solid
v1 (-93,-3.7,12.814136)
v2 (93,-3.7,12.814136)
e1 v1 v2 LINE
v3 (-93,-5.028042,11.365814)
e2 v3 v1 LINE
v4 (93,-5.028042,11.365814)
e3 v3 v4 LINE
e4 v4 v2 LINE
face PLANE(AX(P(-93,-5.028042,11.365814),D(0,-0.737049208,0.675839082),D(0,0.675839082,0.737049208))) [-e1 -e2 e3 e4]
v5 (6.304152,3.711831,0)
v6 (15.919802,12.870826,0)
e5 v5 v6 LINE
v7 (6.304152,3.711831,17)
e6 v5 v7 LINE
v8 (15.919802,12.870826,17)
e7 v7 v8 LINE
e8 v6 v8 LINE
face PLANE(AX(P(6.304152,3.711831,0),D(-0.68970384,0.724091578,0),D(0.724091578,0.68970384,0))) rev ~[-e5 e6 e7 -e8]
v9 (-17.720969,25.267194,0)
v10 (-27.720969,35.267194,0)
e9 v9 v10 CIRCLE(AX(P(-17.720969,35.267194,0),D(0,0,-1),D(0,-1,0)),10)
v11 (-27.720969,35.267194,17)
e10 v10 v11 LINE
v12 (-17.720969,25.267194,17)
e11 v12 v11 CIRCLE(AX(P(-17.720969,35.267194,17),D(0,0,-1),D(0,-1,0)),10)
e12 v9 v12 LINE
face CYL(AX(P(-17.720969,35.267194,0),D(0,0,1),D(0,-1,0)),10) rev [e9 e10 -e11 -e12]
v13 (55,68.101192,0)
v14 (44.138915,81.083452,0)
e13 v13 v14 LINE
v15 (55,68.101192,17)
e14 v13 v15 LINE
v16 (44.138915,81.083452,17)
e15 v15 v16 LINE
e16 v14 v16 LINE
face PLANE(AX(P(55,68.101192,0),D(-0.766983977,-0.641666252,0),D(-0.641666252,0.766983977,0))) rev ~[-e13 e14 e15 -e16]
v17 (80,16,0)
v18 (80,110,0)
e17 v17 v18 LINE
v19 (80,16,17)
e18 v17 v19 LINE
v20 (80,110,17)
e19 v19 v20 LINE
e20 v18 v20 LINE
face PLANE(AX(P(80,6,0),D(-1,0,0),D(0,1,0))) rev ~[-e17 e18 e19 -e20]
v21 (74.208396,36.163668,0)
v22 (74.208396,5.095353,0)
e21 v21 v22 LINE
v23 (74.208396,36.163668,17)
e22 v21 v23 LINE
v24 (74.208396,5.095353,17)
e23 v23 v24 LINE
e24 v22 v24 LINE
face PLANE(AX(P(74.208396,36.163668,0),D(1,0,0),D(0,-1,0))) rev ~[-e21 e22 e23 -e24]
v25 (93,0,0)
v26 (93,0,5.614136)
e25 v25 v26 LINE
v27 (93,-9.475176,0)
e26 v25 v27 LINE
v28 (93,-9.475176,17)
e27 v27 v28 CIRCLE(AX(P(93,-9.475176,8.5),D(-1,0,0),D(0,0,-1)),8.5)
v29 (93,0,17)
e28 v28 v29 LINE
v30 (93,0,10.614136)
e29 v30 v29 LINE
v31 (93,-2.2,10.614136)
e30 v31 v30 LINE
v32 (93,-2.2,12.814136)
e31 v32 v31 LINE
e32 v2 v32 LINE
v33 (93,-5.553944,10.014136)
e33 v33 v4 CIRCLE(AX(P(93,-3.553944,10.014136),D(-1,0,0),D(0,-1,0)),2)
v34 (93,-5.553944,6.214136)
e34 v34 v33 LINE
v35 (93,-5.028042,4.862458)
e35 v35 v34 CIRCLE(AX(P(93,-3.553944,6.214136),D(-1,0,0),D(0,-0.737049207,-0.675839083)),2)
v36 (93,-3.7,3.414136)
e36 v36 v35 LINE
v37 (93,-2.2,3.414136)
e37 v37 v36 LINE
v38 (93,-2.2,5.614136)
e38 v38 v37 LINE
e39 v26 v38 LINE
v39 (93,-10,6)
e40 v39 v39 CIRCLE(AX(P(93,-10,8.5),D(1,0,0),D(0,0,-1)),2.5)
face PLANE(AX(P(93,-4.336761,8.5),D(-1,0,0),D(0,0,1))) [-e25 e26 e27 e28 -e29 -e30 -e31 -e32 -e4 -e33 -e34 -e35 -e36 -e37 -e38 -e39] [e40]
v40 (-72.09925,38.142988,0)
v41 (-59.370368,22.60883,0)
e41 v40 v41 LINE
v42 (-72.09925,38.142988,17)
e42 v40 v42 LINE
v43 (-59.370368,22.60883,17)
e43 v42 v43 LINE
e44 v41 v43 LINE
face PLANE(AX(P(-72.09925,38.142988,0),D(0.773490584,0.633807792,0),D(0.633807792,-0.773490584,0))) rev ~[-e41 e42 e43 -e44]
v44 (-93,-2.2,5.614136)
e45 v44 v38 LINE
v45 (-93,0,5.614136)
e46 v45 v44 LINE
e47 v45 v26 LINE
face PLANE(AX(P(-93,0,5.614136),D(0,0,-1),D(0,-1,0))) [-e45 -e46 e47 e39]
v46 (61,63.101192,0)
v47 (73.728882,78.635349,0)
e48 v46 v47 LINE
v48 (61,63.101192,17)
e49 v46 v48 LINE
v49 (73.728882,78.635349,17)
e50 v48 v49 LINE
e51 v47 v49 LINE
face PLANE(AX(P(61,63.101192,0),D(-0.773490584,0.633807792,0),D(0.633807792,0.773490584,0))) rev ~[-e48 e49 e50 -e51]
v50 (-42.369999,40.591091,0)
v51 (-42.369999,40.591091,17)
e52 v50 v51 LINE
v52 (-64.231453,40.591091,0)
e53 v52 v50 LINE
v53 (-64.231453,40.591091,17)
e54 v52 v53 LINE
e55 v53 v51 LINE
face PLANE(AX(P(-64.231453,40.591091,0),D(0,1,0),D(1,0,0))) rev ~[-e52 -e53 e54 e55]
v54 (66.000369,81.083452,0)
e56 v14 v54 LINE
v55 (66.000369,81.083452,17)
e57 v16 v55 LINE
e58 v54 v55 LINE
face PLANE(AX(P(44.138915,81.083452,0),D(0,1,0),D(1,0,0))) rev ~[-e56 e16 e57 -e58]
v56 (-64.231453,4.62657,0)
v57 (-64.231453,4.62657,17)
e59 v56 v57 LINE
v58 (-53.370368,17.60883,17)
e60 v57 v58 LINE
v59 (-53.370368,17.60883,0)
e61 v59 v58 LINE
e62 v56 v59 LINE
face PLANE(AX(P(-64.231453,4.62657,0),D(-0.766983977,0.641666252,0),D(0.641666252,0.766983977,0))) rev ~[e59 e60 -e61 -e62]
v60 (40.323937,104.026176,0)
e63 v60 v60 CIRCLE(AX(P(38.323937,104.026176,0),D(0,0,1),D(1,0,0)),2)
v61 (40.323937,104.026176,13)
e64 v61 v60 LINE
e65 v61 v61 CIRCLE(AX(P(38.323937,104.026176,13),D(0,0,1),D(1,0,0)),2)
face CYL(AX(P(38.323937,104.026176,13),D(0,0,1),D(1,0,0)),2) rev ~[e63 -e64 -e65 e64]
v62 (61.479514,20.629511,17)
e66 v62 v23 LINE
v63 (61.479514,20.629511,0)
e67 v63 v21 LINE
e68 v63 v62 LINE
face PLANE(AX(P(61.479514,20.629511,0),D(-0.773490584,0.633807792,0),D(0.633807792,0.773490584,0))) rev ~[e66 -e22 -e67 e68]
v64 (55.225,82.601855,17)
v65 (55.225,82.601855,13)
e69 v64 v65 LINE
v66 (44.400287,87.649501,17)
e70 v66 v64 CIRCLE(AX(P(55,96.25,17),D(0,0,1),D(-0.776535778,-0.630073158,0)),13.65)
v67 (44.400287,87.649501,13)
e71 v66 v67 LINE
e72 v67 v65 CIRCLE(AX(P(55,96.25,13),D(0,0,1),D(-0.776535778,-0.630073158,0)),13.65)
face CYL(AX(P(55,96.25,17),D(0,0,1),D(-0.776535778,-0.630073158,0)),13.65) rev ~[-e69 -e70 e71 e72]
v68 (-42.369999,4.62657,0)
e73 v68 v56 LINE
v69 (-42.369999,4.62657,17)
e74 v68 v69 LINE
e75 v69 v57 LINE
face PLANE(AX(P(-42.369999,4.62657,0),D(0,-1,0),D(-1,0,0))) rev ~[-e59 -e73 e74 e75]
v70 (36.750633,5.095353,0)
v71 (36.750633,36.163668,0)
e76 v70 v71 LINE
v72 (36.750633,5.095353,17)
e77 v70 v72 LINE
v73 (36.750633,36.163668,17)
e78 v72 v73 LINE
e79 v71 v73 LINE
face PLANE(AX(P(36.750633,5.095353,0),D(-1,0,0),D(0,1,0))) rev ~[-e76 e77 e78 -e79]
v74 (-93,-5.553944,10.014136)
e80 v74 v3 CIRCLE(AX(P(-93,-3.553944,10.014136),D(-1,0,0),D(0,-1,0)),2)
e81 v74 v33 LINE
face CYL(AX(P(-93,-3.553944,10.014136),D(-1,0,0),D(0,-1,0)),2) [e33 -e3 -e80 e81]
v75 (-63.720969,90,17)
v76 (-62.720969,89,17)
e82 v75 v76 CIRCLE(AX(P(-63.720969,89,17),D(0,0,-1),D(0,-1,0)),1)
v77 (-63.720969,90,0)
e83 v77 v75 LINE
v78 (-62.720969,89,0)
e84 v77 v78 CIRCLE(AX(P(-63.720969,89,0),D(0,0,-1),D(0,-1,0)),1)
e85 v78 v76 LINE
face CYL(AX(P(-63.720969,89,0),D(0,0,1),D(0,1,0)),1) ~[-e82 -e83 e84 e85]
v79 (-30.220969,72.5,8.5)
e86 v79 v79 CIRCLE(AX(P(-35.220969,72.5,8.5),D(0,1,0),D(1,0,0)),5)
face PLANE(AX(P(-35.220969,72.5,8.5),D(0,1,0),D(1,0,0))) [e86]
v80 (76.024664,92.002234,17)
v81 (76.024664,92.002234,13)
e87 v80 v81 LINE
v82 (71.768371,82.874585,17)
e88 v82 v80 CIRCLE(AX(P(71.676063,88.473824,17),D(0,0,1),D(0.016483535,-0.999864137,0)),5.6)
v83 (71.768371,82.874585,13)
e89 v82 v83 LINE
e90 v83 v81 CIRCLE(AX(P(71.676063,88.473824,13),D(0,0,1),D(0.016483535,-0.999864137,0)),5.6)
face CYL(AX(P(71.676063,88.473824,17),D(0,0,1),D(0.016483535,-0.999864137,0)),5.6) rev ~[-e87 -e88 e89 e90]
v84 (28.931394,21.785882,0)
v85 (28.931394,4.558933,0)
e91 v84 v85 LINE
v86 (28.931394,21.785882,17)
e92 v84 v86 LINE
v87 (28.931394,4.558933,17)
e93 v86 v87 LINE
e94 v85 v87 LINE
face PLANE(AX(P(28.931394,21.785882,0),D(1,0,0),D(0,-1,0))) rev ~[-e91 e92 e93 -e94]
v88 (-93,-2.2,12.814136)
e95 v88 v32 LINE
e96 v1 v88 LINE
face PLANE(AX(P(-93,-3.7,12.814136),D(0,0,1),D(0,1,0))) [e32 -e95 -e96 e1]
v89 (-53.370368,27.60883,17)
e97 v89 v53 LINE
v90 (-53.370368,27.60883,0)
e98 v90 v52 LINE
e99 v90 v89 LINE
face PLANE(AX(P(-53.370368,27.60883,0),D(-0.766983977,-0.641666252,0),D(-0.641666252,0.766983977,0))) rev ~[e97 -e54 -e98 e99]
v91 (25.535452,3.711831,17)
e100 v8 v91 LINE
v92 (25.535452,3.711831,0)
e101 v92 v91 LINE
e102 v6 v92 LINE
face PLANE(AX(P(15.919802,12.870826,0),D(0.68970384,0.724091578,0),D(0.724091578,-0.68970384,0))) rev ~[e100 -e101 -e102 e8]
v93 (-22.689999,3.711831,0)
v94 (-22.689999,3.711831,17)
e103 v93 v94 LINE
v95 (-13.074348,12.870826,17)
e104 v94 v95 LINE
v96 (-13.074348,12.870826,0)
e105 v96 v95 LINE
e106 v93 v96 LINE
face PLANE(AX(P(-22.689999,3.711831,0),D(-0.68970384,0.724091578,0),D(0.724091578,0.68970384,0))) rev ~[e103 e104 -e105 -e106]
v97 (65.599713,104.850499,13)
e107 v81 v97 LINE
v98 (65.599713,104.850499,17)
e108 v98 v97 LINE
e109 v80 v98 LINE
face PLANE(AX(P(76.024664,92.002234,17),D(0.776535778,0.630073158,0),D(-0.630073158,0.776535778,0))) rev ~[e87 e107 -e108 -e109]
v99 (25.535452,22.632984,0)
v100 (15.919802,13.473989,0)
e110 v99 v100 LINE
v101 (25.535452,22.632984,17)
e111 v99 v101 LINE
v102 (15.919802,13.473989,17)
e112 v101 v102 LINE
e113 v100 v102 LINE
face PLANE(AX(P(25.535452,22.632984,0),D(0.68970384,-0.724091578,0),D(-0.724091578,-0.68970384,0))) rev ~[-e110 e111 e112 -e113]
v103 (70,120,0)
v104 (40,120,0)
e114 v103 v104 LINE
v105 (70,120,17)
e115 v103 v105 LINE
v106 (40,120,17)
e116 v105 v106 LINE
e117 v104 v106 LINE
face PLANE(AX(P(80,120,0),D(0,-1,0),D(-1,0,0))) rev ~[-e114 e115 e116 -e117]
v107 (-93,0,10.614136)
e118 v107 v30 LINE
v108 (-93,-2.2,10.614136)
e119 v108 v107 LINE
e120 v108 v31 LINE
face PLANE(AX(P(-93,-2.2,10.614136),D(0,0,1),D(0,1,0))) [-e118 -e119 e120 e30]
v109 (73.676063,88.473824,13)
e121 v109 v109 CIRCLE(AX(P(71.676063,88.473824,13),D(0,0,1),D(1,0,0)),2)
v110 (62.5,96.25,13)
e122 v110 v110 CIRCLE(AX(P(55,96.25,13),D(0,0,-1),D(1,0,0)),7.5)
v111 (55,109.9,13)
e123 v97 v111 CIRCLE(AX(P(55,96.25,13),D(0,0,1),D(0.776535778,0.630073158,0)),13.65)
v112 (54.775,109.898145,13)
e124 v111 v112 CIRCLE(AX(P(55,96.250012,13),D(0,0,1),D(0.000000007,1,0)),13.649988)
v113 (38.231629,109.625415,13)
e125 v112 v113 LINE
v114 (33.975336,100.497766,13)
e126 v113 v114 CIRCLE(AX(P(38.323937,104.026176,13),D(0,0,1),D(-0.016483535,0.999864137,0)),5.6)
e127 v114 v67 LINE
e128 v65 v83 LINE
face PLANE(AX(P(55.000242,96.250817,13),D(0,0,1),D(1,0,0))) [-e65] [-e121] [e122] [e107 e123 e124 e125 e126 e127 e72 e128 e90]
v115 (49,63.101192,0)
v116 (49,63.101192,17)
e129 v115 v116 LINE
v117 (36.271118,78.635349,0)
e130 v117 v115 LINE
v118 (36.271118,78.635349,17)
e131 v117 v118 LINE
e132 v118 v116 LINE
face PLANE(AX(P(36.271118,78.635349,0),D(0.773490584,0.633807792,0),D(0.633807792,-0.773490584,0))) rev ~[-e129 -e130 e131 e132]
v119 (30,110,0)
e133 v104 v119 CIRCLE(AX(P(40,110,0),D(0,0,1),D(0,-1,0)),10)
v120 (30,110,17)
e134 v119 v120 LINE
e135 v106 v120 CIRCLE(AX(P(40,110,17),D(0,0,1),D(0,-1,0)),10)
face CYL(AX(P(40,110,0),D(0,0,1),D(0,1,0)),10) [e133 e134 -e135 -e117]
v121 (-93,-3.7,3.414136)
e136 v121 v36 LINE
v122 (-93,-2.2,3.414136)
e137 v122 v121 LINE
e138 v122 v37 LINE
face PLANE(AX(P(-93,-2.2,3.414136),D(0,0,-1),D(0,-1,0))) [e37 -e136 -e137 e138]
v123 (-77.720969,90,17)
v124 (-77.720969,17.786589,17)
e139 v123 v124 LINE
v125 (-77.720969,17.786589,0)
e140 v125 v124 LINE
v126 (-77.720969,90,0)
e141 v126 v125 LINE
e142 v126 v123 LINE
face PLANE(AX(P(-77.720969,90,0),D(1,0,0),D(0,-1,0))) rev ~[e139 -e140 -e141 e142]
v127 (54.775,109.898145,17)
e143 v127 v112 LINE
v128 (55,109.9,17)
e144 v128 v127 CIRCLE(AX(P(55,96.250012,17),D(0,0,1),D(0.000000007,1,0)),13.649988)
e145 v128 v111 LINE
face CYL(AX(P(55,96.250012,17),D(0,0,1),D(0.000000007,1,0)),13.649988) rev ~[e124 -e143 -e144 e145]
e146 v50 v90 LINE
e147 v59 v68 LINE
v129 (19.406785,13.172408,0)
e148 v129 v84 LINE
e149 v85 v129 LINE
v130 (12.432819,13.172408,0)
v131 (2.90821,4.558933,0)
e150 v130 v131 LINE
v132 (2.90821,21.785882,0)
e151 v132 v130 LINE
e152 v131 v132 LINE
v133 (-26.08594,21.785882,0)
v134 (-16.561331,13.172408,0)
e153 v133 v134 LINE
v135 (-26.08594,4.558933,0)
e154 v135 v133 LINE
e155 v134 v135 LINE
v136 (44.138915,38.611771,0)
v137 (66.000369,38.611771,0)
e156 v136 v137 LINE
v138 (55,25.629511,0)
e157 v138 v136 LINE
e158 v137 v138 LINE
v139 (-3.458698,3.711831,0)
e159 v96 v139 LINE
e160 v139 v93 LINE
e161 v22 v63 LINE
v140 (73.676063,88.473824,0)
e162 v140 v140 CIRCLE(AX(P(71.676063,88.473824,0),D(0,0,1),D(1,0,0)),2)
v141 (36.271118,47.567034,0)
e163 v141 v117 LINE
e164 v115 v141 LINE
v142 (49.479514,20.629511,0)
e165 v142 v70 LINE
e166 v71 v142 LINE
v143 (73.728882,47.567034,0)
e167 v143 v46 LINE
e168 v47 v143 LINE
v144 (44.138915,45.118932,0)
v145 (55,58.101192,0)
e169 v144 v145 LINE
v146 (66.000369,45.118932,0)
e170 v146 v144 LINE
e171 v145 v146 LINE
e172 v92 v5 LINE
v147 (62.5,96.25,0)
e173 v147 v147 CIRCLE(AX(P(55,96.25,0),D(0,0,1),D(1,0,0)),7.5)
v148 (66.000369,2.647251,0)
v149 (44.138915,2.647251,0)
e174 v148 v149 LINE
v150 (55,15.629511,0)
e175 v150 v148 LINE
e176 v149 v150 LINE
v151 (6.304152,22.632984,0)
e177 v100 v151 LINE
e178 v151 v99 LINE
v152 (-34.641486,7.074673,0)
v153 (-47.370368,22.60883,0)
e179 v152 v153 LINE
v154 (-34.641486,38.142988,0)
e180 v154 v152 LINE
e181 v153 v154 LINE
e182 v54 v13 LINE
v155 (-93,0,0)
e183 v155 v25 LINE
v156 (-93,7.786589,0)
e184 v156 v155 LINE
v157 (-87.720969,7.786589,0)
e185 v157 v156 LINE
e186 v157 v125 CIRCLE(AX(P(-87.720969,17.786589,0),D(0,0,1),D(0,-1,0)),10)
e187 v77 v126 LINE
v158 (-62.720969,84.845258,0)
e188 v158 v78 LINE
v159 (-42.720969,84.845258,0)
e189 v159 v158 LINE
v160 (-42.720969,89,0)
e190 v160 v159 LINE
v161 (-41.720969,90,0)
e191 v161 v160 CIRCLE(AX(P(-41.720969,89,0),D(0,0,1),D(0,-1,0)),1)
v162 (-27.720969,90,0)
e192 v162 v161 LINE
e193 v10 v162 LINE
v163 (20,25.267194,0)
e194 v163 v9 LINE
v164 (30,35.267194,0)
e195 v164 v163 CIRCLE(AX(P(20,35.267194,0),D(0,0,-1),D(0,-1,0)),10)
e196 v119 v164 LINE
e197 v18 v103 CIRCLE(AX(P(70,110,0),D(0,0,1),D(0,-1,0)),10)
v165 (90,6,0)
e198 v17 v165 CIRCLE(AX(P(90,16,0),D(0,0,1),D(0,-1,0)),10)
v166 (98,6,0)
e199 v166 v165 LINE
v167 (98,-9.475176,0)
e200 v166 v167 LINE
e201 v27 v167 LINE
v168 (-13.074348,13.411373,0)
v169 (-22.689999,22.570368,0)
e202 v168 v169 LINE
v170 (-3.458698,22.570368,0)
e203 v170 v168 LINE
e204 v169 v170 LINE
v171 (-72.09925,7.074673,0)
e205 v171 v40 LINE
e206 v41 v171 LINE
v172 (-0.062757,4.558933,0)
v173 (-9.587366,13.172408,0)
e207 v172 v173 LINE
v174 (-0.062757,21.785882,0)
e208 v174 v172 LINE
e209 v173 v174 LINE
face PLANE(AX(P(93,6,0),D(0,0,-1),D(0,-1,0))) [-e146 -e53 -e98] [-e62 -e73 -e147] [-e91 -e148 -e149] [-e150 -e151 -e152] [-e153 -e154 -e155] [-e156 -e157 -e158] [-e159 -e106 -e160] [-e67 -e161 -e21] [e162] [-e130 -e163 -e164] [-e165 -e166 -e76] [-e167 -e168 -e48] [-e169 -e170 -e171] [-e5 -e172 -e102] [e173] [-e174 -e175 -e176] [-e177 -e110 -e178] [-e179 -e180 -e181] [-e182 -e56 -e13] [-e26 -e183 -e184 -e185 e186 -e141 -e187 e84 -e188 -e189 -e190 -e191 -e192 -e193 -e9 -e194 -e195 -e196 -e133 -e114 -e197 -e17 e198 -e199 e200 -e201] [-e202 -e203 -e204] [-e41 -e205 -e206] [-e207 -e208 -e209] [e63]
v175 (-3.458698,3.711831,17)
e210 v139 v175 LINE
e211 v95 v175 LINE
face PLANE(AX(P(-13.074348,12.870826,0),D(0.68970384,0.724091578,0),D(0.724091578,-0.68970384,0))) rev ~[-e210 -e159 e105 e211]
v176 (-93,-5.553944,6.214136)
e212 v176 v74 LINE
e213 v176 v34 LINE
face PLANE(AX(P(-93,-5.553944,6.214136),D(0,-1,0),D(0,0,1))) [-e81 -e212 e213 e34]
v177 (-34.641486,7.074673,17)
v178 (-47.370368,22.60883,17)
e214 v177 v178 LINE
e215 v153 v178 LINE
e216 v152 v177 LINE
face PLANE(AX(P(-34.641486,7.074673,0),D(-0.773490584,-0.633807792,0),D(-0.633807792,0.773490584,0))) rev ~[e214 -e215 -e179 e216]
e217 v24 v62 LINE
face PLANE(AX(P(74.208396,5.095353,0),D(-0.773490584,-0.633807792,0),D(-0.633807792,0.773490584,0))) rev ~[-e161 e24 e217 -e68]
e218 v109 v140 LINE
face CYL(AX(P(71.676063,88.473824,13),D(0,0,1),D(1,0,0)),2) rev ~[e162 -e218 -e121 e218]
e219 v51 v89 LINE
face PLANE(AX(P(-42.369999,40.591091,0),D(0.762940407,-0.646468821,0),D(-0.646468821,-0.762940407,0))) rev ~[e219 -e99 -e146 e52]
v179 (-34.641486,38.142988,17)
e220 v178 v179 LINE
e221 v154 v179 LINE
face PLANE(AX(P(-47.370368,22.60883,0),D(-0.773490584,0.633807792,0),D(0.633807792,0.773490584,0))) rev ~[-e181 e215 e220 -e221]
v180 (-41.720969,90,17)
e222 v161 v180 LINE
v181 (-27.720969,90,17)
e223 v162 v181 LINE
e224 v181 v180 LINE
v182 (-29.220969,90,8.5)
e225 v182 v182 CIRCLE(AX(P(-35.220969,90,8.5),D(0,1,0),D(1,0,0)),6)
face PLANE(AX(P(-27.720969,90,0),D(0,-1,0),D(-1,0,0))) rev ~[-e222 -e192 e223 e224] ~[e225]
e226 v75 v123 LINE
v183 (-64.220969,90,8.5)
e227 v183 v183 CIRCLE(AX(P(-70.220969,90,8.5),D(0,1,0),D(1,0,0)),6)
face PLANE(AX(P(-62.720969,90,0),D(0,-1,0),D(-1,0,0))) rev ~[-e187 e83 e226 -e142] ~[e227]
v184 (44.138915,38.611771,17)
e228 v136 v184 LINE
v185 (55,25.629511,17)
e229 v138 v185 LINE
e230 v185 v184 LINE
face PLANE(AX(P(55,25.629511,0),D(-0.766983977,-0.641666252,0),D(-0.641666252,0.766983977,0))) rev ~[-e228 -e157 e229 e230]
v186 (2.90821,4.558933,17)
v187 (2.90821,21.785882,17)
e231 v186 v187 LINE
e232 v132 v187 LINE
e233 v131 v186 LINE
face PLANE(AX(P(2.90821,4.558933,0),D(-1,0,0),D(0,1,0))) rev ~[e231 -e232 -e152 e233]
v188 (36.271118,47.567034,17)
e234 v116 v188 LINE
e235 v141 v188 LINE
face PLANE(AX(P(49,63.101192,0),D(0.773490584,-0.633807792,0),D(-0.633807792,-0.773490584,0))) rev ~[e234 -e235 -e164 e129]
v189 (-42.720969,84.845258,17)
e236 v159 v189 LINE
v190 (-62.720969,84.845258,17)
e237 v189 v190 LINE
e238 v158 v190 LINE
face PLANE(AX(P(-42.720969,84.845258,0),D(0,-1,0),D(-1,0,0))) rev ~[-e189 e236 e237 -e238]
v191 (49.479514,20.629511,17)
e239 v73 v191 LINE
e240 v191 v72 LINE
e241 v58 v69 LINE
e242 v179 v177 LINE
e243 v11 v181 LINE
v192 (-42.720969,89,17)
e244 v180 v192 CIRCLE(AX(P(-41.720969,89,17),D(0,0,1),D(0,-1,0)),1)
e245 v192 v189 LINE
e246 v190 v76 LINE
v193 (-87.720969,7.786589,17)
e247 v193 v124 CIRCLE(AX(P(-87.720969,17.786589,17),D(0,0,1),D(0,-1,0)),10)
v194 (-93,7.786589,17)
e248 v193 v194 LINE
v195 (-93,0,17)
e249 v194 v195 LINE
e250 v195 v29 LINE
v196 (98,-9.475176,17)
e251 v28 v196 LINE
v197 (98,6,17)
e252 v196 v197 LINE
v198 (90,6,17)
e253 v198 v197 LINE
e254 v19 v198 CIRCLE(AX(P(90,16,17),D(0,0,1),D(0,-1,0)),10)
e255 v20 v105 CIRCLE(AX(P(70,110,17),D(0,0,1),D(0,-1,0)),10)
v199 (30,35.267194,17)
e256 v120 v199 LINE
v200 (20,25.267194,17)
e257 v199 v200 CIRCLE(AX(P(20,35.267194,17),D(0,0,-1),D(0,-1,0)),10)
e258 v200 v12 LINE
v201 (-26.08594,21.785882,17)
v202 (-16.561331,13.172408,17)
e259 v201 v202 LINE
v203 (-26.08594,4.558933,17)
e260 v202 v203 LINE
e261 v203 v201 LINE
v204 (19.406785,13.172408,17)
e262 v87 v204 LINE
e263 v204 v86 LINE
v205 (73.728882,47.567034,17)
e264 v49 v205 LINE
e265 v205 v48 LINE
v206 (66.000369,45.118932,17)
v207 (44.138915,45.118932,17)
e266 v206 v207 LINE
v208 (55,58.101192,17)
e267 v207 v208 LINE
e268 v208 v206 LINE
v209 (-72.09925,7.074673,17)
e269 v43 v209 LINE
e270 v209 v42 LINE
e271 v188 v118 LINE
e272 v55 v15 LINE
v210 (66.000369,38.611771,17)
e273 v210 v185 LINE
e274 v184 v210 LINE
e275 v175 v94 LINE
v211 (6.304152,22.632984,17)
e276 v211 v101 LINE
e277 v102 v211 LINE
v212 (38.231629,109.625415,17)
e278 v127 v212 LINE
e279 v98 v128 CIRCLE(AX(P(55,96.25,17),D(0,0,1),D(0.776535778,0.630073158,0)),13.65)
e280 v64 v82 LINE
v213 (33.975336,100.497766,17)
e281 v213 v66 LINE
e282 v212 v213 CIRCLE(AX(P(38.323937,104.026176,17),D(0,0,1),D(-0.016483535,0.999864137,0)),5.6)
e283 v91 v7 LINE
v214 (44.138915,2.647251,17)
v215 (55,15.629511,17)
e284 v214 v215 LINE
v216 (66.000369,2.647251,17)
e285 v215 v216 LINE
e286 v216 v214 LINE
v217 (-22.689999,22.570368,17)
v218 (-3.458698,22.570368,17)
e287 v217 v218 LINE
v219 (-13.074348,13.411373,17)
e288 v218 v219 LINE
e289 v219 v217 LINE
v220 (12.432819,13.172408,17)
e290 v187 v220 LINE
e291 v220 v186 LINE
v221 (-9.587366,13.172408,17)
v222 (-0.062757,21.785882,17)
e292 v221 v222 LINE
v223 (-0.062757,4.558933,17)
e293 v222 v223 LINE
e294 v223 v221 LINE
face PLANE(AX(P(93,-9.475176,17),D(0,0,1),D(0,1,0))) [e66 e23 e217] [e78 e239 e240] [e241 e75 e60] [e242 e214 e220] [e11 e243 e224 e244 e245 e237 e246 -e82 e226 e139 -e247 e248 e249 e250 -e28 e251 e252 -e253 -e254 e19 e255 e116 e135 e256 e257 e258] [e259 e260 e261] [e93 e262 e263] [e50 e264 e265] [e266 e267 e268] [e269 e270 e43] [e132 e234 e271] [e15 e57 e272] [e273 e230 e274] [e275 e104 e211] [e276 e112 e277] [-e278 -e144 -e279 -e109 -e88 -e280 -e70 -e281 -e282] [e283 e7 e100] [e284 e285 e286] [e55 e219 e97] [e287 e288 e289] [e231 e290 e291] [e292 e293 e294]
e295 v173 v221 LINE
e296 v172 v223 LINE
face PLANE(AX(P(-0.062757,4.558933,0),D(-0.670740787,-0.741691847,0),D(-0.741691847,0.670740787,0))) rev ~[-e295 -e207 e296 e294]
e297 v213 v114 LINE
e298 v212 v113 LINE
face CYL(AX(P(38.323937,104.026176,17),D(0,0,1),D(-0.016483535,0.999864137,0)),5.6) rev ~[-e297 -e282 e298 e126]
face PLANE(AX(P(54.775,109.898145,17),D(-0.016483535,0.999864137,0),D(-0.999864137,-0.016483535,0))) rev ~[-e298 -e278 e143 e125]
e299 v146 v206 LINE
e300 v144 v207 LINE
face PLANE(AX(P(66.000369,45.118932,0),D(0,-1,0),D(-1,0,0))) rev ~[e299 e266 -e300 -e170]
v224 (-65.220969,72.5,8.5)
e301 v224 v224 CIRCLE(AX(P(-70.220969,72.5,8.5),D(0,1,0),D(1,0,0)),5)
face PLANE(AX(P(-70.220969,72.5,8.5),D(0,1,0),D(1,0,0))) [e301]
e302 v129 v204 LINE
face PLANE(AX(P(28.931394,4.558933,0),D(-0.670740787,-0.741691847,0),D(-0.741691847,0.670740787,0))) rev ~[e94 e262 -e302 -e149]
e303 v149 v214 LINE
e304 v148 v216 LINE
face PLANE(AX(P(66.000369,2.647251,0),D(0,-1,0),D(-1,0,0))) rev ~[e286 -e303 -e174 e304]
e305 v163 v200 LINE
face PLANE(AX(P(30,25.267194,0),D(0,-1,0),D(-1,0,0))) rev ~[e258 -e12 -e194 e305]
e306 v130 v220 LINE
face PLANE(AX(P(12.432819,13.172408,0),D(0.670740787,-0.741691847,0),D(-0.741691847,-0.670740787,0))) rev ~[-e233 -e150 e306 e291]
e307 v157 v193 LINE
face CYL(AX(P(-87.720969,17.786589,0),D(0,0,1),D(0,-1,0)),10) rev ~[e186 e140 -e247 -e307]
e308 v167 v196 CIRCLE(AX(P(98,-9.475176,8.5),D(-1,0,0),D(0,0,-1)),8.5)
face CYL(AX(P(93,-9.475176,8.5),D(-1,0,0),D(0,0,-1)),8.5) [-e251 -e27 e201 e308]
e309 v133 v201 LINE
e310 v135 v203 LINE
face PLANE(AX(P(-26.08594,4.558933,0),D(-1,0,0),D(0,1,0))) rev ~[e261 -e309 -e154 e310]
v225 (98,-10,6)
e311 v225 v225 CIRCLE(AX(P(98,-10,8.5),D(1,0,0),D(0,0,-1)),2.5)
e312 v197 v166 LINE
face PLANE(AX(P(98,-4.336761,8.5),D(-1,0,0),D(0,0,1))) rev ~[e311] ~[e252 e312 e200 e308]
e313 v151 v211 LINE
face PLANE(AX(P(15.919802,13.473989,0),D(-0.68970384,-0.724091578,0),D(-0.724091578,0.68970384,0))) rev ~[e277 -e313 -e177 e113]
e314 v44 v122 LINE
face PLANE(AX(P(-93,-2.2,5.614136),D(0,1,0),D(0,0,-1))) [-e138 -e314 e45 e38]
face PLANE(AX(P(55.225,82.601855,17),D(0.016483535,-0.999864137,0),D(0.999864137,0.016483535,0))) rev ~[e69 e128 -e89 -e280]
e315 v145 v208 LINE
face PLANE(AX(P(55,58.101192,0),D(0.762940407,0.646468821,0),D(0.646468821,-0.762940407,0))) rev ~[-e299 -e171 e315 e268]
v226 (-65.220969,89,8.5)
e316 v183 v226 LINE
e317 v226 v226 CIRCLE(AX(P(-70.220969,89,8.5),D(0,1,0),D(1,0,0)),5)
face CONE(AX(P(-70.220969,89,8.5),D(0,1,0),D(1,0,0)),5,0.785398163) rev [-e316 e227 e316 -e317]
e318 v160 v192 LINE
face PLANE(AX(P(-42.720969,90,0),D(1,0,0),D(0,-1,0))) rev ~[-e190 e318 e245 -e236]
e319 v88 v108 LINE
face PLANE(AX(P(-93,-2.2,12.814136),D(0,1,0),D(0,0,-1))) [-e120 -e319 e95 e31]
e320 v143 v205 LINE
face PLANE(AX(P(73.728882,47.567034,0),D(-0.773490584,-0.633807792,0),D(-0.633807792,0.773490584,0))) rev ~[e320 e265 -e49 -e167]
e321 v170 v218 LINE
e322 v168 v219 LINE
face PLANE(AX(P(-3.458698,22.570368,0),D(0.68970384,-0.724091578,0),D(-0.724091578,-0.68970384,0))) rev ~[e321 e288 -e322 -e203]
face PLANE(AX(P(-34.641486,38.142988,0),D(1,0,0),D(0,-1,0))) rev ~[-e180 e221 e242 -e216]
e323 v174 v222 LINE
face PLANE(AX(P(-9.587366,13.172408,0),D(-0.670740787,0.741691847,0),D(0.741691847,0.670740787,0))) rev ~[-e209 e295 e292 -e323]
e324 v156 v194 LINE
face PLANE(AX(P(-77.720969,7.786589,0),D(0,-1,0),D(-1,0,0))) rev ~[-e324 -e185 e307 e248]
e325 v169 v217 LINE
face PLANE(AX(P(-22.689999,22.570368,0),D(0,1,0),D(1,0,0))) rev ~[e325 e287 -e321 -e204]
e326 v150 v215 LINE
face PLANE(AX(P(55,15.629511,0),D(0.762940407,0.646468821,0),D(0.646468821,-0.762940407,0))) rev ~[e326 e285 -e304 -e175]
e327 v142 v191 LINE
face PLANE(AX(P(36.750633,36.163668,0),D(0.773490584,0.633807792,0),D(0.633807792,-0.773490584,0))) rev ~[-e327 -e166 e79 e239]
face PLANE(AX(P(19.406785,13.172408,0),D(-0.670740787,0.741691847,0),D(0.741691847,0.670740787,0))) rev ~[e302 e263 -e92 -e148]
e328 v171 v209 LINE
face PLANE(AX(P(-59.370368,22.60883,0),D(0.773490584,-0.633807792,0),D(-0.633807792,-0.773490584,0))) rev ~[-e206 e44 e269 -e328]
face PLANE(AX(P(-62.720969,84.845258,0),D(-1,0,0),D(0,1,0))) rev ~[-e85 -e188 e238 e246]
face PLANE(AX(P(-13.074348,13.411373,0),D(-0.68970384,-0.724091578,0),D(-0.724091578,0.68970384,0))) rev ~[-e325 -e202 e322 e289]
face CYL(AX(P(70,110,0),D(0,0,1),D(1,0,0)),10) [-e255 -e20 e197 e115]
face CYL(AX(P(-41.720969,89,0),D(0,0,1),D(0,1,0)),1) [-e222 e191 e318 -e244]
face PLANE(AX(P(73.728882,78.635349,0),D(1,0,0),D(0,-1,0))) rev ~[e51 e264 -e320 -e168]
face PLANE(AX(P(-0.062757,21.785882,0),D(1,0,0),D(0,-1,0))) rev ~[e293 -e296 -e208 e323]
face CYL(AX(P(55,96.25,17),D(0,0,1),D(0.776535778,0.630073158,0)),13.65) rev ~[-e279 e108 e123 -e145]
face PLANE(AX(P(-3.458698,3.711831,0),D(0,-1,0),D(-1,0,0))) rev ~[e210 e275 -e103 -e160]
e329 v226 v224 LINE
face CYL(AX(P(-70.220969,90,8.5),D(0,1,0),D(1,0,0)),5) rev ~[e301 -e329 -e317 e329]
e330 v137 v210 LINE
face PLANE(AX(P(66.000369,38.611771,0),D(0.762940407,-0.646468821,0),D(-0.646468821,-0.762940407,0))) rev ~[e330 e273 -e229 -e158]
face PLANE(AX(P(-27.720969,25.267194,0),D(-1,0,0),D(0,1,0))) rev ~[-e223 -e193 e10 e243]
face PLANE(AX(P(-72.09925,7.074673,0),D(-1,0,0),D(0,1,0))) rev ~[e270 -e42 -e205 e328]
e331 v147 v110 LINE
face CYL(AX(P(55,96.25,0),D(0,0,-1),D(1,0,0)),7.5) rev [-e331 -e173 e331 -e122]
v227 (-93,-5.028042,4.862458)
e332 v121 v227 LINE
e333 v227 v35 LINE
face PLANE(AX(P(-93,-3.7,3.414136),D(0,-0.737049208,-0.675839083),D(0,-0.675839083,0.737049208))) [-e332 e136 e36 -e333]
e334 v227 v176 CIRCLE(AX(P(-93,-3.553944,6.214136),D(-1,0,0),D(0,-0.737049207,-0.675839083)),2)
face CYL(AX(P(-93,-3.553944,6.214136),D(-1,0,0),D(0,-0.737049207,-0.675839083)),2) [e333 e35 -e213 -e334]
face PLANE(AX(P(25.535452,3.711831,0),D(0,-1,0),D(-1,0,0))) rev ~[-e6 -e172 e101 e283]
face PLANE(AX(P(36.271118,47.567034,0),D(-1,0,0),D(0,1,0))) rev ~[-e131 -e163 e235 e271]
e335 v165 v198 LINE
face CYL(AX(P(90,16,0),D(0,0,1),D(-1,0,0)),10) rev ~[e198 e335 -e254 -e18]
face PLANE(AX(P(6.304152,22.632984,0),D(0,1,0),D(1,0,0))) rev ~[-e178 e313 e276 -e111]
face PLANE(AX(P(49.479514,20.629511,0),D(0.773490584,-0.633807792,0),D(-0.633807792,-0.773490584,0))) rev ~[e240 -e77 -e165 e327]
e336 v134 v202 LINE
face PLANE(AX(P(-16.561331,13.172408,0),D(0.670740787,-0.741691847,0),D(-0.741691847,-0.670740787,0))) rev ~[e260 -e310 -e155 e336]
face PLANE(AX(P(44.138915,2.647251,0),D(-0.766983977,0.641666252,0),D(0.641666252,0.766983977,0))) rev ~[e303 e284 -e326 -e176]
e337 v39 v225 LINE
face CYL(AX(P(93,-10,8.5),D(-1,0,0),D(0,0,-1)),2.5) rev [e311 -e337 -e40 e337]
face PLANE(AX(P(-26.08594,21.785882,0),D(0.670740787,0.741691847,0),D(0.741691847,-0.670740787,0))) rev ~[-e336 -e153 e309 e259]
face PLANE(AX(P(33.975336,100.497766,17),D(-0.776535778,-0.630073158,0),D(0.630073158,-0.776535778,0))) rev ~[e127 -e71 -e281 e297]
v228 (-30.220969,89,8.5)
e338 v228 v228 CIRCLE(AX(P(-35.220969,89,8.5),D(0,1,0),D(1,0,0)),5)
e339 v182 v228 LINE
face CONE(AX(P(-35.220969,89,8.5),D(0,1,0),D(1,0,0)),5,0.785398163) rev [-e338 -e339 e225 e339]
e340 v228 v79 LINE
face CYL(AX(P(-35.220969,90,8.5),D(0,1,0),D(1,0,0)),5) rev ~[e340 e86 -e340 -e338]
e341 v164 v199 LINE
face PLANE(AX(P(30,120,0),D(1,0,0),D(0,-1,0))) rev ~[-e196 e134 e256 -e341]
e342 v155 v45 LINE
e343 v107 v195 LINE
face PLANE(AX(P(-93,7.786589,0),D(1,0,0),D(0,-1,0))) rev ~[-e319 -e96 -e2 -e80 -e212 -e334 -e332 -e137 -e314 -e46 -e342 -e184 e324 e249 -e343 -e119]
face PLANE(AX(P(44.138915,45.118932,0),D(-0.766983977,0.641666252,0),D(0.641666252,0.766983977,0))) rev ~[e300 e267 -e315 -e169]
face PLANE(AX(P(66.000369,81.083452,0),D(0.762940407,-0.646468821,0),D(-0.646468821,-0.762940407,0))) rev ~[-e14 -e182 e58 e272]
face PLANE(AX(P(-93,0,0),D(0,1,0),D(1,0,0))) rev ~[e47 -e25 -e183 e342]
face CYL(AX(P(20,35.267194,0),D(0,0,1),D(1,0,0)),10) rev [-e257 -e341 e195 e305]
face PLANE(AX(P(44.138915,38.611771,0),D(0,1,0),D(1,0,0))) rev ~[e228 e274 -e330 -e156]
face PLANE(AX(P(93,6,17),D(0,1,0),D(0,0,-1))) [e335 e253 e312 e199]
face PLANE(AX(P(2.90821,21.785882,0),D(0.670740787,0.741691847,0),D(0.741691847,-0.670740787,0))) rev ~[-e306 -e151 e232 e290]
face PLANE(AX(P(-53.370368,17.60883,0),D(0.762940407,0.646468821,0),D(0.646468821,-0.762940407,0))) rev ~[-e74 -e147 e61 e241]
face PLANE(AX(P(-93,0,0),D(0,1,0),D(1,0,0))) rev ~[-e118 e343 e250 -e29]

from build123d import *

# Parameters (mm, degrees)
CROQUIS1_R              = 7.5
SALIENTE_EXTRUIR1_DEPTH = 17
REDONDEO1_R             = 10
REDONDEO2_R             = 10
REDONDEO8_R             = 10
REDONDEO9_R             = 10
REDONDEO11_R            = 10
REDONDEO12_R            = 10
SALIENTE_EXTRUIR2_DEPTH = 186
CROQUIS5_R              = 2.5
SALIENTE_EXTRUIR6_DEPTH = 5
CORTAR_EXTRUIR5_DEPTH   = 4
SKETCH3_R               = 2
CUT_EXTRUDE1_DEPTH      = 156.476686355
SKETCH4_R               = 5
CUT_EXTRUDE2_DEPTH      = 17.5
FILLET1_R               = 1
CHAMFER1_SIZE           = 1


with BuildPart() as part:
    # Croquis1 → Saliente-Extruir1 (new body)
    with BuildSketch(Plane.XY):
        Polygon((-93, 0), (93, 0), (93, 6), (80, 6), (80, 120), (30, 120), (30, 25.267194249), (-27.720969348, 25.267194249), (-27.720969348, 90), (-42.720969348, 90), (-42.720969348, 84.845258293), (-62.720969348, 84.845258293), (-62.720969348, 90), (-77.720969348, 90), (-77.720969348, 7.786589187), (-93, 7.786589187), align=None)
        Polygon((-53.370368055, 17.608830496), (-42.369998576, 4.626570416), (-64.231453048, 4.626570416), align=None, mode=Mode.SUBTRACT)
        Polygon((-72.099249791, 38.14298816), (-59.370368055, 22.608830496), (-72.099249791, 7.074672833), align=None, mode=Mode.SUBTRACT)
        Polygon((-3.458697993, 3.711831174), (-22.689998763, 3.711831174), (-13.074348378, 12.870825965), align=None, mode=Mode.SUBTRACT)
        Polygon((-26.085940215, 4.558933089), (-26.085940215, 21.785882097), (-16.561331103, 13.172407593), align=None, mode=Mode.SUBTRACT)
        Polygon((-9.587365653, 13.172407593), (-0.062756541, 21.785882097), (-0.062756541, 4.558933089), align=None, mode=Mode.SUBTRACT)
        Polygon((-34.641486319, 7.074672833), (-47.370368055, 22.608830496), (-34.641486319, 38.14298816), align=None, mode=Mode.SUBTRACT)
        Polygon((-13.074348378, 13.411373354), (-22.689998763, 22.570368145), (-3.458697993, 22.570368145), align=None, mode=Mode.SUBTRACT)
        Polygon((-53.370368055, 27.608830496), (-64.231453048, 40.591090577), (-42.369998576, 40.591090577), align=None, mode=Mode.SUBTRACT)
        Polygon((2.908210147, 4.558933089), (2.908210147, 21.785882097), (12.432819259, 13.172407593), align=None, mode=Mode.SUBTRACT)
        Polygon((6.304151599, 3.711831174), (15.919801984, 12.870825965), (25.535452369, 3.711831174), align=None, mode=Mode.SUBTRACT)
        Polygon((28.931393821, 21.785882097), (28.931393821, 4.558933089), (19.406784708, 13.172407593), align=None, mode=Mode.SUBTRACT)
        Polygon((6.304151599, 22.632984011), (25.535452369, 22.632984011), (15.919801984, 13.47398922), align=None, mode=Mode.SUBTRACT)
        Polygon((36.750632631, 36.163668304), (49.479514367, 20.629510641), (36.750632631, 5.095352977), align=None, mode=Mode.SUBTRACT)
        Polygon((55, 15.629510641), (66.000369479, 2.64725056), (44.138915007, 2.64725056), align=None, mode=Mode.SUBTRACT)
        Polygon((74.208396103, 5.095352977), (61.479514367, 20.629510641), (74.208396103, 36.163668304), align=None, mode=Mode.SUBTRACT)
        Polygon((55, 25.629510641), (44.138915007, 38.611770721), (66.000369479, 38.611770721), align=None, mode=Mode.SUBTRACT)
        Polygon((55, 58.101191757), (66.000369479, 45.118931676), (44.138915007, 45.118931676), align=None, mode=Mode.SUBTRACT)
        Polygon((36.271118264, 78.63534942), (49, 63.101191757), (36.271118264, 47.567034093), align=None, mode=Mode.SUBTRACT)
        Polygon((73.728881736, 47.567034093), (61, 63.101191757), (73.728881736, 78.63534942), align=None, mode=Mode.SUBTRACT)
        Polygon((55, 68.101191757), (44.138915007, 81.083451837), (66.000369479, 81.083451837), align=None, mode=Mode.SUBTRACT)
        with Locations((55, 96.25)):
            Circle(CROQUIS1_R, mode=Mode.SUBTRACT)
    extrude(amount=SALIENTE_EXTRUIR1_DEPTH)

    # Redondeo1
    redondeo1_edges = [part.edges().sort_by_distance(p)[0] for p in [
        (80, 120, 8.5),
    ]]
    fillet(redondeo1_edges, radius=REDONDEO1_R)

    # Redondeo2
    redondeo2_edges = [part.edges().sort_by_distance(p)[0] for p in [
        (30, 120, 8.5),
    ]]
    fillet(redondeo2_edges, radius=REDONDEO2_R)

    # Redondeo8
    redondeo8_edges = [part.edges().sort_by_distance(p)[0] for p in [
        (30, 25.267194249, 8.5),
    ]]
    fillet(redondeo8_edges, radius=REDONDEO8_R)

    # Redondeo9
    redondeo9_edges = [part.edges().sort_by_distance(p)[0] for p in [
        (-27.720969348, 25.267194249, 8.5),
    ]]
    fillet(redondeo9_edges, radius=REDONDEO9_R)

    # Redondeo11
    redondeo11_edges = [part.edges().sort_by_distance(p)[0] for p in [
        (80, 6, 8.5),
    ]]
    fillet(redondeo11_edges, radius=REDONDEO11_R)

    # Redondeo12
    redondeo12_edges = [part.edges().sort_by_distance(p)[0] for p in [
        (-77.720969348, 7.786589187, 8.5),
    ]]
    fillet(redondeo12_edges, radius=REDONDEO12_R)

    # Croquis4 → Saliente-Extruir2 (add)
    with BuildSketch(Plane.ZY.offset(93)):
        with BuildLine():
            Line((5.614135824, 0), (5.614135824, -2.2))
            Line((5.614135824, -2.2), (3.414135824, -2.2))
            Line((3.414135824, -2.2), (3.414135824, -3.7))
            Line((3.414135824, -3.7), (4.862457658, -5.028042266))
            ThreePointArc((4.862457658, -5.028042266), (5.488945101, -5.4178372), (6.214135824, -5.553943851))
            Line((6.214135824, -5.553943851), (10.014135824, -5.553943851))
            ThreePointArc((10.014135824, -5.553943851), (10.739326546, -5.4178372), (11.365813989, -5.028042266))
            Line((11.365813989, -5.028042266), (12.814135824, -3.7))
            Line((12.814135824, -3.7), (12.814135824, -2.2))
            Line((12.814135824, -2.2), (10.614135824, -2.2))
            Line((10.614135824, -2.2), (10.614135824, 0))
            Line((10.614135824, 0), (5.614135824, 0))
        make_face()
    extrude(amount=-SALIENTE_EXTRUIR2_DEPTH)

    # Croquis5 → Saliente-Extruir6 (add)
    with BuildSketch(Plane(origin=(93, 0, 0), x_dir=(0, 0, -1), z_dir=(1, 0, 0))):
        with BuildLine():
            Line((-17, 6), (0, 6))
            Line((0, 6), (0, 0))
            Line((0, 0), (0, -9.475176398))
            ThreePointArc((0, -9.475176398), (-8.5, -17.975176398), (-17, -9.475176398))
            Line((-17, -9.475176398), (-17, 0))
            Line((-17, 0), (-17, 6))
        make_face()
        with Locations((-8.5, -10)):
            Circle(CROQUIS5_R, mode=Mode.SUBTRACT)
    extrude(amount=SALIENTE_EXTRUIR6_DEPTH)

    # Croquis13 → Cortar-Extruir5 (cut)
    with BuildSketch(Plane.XY.offset(17)):
        with BuildLine():
            Line((55.225000256, 82.601854526), (71.768371079, 82.874584815))
            ThreePointArc((71.768371079, 82.874584815), (76.751386889, 86.107161718), (76.024663641, 92.00223367))
            Line((76.024663641, 92.00223367), (65.599713376, 104.850498611))
            ThreePointArc((65.599713376, 104.850498611), (60.870506535, 108.57313487), (55, 109.9))
            ThreePointArc((55, 109.9), (54.887496051, 109.899536361), (54.774999744, 109.898145474))
            Line((54.774999744, 109.898145474), (38.231628921, 109.625415185))
            ThreePointArc((38.231628921, 109.625415185), (33.248613111, 106.392838282), (33.975336359, 100.49776633))
            Line((33.975336359, 100.49776633), (44.400286624, 87.649501389))
            ThreePointArc((44.400286624, 87.649501389), (49.231260727, 83.878898707), (55.225000256, 82.601854526))
        make_face()
    extrude(amount=-CORTAR_EXTRUIR5_DEPTH, mode=Mode.SUBTRACT)

    # Sketch3 → Cut-Extrude1 (cut, through all)
    with BuildSketch(Plane.XY.offset(13)):
        with Locations((38.323936719, 104.02617602)):
            Circle(SKETCH3_R)
        with Locations((71.676063281, 88.47382398)):
            Circle(SKETCH3_R)
    extrude(amount=-CUT_EXTRUDE1_DEPTH, mode=Mode.SUBTRACT)

    # Sketch4 → Cut-Extrude2 (cut)
    with BuildSketch(Plane(origin=(0, 90, 0), x_dir=(1, 0, 0), z_dir=(0, 1, 0))):
        with Locations((-70.220969348, -8.5)):
            Circle(SKETCH4_R)
        with Locations((-35.220969348, -8.5)):
            Circle(SKETCH4_R)
    extrude(amount=-CUT_EXTRUDE2_DEPTH, mode=Mode.SUBTRACT)

    # Fillet1
    fillet1_edges = [part.edges().sort_by_distance(p)[0] for p in [
        (-42.720969348, 90, 8.5),
        (-62.720969348, 90, 8.5),
    ]]
    fillet(fillet1_edges, radius=FILLET1_R)

    # Chamfer1
    chamfer1_edges = [part.edges().sort_by_distance(p)[0] for p in [
        (-40.220969348, 90, 8.5),
        (-75.220969348, 90, 8.5),
    ]]
    chamfer(chamfer1_edges, length=CHAMFER1_SIZE)


solid = part.part
